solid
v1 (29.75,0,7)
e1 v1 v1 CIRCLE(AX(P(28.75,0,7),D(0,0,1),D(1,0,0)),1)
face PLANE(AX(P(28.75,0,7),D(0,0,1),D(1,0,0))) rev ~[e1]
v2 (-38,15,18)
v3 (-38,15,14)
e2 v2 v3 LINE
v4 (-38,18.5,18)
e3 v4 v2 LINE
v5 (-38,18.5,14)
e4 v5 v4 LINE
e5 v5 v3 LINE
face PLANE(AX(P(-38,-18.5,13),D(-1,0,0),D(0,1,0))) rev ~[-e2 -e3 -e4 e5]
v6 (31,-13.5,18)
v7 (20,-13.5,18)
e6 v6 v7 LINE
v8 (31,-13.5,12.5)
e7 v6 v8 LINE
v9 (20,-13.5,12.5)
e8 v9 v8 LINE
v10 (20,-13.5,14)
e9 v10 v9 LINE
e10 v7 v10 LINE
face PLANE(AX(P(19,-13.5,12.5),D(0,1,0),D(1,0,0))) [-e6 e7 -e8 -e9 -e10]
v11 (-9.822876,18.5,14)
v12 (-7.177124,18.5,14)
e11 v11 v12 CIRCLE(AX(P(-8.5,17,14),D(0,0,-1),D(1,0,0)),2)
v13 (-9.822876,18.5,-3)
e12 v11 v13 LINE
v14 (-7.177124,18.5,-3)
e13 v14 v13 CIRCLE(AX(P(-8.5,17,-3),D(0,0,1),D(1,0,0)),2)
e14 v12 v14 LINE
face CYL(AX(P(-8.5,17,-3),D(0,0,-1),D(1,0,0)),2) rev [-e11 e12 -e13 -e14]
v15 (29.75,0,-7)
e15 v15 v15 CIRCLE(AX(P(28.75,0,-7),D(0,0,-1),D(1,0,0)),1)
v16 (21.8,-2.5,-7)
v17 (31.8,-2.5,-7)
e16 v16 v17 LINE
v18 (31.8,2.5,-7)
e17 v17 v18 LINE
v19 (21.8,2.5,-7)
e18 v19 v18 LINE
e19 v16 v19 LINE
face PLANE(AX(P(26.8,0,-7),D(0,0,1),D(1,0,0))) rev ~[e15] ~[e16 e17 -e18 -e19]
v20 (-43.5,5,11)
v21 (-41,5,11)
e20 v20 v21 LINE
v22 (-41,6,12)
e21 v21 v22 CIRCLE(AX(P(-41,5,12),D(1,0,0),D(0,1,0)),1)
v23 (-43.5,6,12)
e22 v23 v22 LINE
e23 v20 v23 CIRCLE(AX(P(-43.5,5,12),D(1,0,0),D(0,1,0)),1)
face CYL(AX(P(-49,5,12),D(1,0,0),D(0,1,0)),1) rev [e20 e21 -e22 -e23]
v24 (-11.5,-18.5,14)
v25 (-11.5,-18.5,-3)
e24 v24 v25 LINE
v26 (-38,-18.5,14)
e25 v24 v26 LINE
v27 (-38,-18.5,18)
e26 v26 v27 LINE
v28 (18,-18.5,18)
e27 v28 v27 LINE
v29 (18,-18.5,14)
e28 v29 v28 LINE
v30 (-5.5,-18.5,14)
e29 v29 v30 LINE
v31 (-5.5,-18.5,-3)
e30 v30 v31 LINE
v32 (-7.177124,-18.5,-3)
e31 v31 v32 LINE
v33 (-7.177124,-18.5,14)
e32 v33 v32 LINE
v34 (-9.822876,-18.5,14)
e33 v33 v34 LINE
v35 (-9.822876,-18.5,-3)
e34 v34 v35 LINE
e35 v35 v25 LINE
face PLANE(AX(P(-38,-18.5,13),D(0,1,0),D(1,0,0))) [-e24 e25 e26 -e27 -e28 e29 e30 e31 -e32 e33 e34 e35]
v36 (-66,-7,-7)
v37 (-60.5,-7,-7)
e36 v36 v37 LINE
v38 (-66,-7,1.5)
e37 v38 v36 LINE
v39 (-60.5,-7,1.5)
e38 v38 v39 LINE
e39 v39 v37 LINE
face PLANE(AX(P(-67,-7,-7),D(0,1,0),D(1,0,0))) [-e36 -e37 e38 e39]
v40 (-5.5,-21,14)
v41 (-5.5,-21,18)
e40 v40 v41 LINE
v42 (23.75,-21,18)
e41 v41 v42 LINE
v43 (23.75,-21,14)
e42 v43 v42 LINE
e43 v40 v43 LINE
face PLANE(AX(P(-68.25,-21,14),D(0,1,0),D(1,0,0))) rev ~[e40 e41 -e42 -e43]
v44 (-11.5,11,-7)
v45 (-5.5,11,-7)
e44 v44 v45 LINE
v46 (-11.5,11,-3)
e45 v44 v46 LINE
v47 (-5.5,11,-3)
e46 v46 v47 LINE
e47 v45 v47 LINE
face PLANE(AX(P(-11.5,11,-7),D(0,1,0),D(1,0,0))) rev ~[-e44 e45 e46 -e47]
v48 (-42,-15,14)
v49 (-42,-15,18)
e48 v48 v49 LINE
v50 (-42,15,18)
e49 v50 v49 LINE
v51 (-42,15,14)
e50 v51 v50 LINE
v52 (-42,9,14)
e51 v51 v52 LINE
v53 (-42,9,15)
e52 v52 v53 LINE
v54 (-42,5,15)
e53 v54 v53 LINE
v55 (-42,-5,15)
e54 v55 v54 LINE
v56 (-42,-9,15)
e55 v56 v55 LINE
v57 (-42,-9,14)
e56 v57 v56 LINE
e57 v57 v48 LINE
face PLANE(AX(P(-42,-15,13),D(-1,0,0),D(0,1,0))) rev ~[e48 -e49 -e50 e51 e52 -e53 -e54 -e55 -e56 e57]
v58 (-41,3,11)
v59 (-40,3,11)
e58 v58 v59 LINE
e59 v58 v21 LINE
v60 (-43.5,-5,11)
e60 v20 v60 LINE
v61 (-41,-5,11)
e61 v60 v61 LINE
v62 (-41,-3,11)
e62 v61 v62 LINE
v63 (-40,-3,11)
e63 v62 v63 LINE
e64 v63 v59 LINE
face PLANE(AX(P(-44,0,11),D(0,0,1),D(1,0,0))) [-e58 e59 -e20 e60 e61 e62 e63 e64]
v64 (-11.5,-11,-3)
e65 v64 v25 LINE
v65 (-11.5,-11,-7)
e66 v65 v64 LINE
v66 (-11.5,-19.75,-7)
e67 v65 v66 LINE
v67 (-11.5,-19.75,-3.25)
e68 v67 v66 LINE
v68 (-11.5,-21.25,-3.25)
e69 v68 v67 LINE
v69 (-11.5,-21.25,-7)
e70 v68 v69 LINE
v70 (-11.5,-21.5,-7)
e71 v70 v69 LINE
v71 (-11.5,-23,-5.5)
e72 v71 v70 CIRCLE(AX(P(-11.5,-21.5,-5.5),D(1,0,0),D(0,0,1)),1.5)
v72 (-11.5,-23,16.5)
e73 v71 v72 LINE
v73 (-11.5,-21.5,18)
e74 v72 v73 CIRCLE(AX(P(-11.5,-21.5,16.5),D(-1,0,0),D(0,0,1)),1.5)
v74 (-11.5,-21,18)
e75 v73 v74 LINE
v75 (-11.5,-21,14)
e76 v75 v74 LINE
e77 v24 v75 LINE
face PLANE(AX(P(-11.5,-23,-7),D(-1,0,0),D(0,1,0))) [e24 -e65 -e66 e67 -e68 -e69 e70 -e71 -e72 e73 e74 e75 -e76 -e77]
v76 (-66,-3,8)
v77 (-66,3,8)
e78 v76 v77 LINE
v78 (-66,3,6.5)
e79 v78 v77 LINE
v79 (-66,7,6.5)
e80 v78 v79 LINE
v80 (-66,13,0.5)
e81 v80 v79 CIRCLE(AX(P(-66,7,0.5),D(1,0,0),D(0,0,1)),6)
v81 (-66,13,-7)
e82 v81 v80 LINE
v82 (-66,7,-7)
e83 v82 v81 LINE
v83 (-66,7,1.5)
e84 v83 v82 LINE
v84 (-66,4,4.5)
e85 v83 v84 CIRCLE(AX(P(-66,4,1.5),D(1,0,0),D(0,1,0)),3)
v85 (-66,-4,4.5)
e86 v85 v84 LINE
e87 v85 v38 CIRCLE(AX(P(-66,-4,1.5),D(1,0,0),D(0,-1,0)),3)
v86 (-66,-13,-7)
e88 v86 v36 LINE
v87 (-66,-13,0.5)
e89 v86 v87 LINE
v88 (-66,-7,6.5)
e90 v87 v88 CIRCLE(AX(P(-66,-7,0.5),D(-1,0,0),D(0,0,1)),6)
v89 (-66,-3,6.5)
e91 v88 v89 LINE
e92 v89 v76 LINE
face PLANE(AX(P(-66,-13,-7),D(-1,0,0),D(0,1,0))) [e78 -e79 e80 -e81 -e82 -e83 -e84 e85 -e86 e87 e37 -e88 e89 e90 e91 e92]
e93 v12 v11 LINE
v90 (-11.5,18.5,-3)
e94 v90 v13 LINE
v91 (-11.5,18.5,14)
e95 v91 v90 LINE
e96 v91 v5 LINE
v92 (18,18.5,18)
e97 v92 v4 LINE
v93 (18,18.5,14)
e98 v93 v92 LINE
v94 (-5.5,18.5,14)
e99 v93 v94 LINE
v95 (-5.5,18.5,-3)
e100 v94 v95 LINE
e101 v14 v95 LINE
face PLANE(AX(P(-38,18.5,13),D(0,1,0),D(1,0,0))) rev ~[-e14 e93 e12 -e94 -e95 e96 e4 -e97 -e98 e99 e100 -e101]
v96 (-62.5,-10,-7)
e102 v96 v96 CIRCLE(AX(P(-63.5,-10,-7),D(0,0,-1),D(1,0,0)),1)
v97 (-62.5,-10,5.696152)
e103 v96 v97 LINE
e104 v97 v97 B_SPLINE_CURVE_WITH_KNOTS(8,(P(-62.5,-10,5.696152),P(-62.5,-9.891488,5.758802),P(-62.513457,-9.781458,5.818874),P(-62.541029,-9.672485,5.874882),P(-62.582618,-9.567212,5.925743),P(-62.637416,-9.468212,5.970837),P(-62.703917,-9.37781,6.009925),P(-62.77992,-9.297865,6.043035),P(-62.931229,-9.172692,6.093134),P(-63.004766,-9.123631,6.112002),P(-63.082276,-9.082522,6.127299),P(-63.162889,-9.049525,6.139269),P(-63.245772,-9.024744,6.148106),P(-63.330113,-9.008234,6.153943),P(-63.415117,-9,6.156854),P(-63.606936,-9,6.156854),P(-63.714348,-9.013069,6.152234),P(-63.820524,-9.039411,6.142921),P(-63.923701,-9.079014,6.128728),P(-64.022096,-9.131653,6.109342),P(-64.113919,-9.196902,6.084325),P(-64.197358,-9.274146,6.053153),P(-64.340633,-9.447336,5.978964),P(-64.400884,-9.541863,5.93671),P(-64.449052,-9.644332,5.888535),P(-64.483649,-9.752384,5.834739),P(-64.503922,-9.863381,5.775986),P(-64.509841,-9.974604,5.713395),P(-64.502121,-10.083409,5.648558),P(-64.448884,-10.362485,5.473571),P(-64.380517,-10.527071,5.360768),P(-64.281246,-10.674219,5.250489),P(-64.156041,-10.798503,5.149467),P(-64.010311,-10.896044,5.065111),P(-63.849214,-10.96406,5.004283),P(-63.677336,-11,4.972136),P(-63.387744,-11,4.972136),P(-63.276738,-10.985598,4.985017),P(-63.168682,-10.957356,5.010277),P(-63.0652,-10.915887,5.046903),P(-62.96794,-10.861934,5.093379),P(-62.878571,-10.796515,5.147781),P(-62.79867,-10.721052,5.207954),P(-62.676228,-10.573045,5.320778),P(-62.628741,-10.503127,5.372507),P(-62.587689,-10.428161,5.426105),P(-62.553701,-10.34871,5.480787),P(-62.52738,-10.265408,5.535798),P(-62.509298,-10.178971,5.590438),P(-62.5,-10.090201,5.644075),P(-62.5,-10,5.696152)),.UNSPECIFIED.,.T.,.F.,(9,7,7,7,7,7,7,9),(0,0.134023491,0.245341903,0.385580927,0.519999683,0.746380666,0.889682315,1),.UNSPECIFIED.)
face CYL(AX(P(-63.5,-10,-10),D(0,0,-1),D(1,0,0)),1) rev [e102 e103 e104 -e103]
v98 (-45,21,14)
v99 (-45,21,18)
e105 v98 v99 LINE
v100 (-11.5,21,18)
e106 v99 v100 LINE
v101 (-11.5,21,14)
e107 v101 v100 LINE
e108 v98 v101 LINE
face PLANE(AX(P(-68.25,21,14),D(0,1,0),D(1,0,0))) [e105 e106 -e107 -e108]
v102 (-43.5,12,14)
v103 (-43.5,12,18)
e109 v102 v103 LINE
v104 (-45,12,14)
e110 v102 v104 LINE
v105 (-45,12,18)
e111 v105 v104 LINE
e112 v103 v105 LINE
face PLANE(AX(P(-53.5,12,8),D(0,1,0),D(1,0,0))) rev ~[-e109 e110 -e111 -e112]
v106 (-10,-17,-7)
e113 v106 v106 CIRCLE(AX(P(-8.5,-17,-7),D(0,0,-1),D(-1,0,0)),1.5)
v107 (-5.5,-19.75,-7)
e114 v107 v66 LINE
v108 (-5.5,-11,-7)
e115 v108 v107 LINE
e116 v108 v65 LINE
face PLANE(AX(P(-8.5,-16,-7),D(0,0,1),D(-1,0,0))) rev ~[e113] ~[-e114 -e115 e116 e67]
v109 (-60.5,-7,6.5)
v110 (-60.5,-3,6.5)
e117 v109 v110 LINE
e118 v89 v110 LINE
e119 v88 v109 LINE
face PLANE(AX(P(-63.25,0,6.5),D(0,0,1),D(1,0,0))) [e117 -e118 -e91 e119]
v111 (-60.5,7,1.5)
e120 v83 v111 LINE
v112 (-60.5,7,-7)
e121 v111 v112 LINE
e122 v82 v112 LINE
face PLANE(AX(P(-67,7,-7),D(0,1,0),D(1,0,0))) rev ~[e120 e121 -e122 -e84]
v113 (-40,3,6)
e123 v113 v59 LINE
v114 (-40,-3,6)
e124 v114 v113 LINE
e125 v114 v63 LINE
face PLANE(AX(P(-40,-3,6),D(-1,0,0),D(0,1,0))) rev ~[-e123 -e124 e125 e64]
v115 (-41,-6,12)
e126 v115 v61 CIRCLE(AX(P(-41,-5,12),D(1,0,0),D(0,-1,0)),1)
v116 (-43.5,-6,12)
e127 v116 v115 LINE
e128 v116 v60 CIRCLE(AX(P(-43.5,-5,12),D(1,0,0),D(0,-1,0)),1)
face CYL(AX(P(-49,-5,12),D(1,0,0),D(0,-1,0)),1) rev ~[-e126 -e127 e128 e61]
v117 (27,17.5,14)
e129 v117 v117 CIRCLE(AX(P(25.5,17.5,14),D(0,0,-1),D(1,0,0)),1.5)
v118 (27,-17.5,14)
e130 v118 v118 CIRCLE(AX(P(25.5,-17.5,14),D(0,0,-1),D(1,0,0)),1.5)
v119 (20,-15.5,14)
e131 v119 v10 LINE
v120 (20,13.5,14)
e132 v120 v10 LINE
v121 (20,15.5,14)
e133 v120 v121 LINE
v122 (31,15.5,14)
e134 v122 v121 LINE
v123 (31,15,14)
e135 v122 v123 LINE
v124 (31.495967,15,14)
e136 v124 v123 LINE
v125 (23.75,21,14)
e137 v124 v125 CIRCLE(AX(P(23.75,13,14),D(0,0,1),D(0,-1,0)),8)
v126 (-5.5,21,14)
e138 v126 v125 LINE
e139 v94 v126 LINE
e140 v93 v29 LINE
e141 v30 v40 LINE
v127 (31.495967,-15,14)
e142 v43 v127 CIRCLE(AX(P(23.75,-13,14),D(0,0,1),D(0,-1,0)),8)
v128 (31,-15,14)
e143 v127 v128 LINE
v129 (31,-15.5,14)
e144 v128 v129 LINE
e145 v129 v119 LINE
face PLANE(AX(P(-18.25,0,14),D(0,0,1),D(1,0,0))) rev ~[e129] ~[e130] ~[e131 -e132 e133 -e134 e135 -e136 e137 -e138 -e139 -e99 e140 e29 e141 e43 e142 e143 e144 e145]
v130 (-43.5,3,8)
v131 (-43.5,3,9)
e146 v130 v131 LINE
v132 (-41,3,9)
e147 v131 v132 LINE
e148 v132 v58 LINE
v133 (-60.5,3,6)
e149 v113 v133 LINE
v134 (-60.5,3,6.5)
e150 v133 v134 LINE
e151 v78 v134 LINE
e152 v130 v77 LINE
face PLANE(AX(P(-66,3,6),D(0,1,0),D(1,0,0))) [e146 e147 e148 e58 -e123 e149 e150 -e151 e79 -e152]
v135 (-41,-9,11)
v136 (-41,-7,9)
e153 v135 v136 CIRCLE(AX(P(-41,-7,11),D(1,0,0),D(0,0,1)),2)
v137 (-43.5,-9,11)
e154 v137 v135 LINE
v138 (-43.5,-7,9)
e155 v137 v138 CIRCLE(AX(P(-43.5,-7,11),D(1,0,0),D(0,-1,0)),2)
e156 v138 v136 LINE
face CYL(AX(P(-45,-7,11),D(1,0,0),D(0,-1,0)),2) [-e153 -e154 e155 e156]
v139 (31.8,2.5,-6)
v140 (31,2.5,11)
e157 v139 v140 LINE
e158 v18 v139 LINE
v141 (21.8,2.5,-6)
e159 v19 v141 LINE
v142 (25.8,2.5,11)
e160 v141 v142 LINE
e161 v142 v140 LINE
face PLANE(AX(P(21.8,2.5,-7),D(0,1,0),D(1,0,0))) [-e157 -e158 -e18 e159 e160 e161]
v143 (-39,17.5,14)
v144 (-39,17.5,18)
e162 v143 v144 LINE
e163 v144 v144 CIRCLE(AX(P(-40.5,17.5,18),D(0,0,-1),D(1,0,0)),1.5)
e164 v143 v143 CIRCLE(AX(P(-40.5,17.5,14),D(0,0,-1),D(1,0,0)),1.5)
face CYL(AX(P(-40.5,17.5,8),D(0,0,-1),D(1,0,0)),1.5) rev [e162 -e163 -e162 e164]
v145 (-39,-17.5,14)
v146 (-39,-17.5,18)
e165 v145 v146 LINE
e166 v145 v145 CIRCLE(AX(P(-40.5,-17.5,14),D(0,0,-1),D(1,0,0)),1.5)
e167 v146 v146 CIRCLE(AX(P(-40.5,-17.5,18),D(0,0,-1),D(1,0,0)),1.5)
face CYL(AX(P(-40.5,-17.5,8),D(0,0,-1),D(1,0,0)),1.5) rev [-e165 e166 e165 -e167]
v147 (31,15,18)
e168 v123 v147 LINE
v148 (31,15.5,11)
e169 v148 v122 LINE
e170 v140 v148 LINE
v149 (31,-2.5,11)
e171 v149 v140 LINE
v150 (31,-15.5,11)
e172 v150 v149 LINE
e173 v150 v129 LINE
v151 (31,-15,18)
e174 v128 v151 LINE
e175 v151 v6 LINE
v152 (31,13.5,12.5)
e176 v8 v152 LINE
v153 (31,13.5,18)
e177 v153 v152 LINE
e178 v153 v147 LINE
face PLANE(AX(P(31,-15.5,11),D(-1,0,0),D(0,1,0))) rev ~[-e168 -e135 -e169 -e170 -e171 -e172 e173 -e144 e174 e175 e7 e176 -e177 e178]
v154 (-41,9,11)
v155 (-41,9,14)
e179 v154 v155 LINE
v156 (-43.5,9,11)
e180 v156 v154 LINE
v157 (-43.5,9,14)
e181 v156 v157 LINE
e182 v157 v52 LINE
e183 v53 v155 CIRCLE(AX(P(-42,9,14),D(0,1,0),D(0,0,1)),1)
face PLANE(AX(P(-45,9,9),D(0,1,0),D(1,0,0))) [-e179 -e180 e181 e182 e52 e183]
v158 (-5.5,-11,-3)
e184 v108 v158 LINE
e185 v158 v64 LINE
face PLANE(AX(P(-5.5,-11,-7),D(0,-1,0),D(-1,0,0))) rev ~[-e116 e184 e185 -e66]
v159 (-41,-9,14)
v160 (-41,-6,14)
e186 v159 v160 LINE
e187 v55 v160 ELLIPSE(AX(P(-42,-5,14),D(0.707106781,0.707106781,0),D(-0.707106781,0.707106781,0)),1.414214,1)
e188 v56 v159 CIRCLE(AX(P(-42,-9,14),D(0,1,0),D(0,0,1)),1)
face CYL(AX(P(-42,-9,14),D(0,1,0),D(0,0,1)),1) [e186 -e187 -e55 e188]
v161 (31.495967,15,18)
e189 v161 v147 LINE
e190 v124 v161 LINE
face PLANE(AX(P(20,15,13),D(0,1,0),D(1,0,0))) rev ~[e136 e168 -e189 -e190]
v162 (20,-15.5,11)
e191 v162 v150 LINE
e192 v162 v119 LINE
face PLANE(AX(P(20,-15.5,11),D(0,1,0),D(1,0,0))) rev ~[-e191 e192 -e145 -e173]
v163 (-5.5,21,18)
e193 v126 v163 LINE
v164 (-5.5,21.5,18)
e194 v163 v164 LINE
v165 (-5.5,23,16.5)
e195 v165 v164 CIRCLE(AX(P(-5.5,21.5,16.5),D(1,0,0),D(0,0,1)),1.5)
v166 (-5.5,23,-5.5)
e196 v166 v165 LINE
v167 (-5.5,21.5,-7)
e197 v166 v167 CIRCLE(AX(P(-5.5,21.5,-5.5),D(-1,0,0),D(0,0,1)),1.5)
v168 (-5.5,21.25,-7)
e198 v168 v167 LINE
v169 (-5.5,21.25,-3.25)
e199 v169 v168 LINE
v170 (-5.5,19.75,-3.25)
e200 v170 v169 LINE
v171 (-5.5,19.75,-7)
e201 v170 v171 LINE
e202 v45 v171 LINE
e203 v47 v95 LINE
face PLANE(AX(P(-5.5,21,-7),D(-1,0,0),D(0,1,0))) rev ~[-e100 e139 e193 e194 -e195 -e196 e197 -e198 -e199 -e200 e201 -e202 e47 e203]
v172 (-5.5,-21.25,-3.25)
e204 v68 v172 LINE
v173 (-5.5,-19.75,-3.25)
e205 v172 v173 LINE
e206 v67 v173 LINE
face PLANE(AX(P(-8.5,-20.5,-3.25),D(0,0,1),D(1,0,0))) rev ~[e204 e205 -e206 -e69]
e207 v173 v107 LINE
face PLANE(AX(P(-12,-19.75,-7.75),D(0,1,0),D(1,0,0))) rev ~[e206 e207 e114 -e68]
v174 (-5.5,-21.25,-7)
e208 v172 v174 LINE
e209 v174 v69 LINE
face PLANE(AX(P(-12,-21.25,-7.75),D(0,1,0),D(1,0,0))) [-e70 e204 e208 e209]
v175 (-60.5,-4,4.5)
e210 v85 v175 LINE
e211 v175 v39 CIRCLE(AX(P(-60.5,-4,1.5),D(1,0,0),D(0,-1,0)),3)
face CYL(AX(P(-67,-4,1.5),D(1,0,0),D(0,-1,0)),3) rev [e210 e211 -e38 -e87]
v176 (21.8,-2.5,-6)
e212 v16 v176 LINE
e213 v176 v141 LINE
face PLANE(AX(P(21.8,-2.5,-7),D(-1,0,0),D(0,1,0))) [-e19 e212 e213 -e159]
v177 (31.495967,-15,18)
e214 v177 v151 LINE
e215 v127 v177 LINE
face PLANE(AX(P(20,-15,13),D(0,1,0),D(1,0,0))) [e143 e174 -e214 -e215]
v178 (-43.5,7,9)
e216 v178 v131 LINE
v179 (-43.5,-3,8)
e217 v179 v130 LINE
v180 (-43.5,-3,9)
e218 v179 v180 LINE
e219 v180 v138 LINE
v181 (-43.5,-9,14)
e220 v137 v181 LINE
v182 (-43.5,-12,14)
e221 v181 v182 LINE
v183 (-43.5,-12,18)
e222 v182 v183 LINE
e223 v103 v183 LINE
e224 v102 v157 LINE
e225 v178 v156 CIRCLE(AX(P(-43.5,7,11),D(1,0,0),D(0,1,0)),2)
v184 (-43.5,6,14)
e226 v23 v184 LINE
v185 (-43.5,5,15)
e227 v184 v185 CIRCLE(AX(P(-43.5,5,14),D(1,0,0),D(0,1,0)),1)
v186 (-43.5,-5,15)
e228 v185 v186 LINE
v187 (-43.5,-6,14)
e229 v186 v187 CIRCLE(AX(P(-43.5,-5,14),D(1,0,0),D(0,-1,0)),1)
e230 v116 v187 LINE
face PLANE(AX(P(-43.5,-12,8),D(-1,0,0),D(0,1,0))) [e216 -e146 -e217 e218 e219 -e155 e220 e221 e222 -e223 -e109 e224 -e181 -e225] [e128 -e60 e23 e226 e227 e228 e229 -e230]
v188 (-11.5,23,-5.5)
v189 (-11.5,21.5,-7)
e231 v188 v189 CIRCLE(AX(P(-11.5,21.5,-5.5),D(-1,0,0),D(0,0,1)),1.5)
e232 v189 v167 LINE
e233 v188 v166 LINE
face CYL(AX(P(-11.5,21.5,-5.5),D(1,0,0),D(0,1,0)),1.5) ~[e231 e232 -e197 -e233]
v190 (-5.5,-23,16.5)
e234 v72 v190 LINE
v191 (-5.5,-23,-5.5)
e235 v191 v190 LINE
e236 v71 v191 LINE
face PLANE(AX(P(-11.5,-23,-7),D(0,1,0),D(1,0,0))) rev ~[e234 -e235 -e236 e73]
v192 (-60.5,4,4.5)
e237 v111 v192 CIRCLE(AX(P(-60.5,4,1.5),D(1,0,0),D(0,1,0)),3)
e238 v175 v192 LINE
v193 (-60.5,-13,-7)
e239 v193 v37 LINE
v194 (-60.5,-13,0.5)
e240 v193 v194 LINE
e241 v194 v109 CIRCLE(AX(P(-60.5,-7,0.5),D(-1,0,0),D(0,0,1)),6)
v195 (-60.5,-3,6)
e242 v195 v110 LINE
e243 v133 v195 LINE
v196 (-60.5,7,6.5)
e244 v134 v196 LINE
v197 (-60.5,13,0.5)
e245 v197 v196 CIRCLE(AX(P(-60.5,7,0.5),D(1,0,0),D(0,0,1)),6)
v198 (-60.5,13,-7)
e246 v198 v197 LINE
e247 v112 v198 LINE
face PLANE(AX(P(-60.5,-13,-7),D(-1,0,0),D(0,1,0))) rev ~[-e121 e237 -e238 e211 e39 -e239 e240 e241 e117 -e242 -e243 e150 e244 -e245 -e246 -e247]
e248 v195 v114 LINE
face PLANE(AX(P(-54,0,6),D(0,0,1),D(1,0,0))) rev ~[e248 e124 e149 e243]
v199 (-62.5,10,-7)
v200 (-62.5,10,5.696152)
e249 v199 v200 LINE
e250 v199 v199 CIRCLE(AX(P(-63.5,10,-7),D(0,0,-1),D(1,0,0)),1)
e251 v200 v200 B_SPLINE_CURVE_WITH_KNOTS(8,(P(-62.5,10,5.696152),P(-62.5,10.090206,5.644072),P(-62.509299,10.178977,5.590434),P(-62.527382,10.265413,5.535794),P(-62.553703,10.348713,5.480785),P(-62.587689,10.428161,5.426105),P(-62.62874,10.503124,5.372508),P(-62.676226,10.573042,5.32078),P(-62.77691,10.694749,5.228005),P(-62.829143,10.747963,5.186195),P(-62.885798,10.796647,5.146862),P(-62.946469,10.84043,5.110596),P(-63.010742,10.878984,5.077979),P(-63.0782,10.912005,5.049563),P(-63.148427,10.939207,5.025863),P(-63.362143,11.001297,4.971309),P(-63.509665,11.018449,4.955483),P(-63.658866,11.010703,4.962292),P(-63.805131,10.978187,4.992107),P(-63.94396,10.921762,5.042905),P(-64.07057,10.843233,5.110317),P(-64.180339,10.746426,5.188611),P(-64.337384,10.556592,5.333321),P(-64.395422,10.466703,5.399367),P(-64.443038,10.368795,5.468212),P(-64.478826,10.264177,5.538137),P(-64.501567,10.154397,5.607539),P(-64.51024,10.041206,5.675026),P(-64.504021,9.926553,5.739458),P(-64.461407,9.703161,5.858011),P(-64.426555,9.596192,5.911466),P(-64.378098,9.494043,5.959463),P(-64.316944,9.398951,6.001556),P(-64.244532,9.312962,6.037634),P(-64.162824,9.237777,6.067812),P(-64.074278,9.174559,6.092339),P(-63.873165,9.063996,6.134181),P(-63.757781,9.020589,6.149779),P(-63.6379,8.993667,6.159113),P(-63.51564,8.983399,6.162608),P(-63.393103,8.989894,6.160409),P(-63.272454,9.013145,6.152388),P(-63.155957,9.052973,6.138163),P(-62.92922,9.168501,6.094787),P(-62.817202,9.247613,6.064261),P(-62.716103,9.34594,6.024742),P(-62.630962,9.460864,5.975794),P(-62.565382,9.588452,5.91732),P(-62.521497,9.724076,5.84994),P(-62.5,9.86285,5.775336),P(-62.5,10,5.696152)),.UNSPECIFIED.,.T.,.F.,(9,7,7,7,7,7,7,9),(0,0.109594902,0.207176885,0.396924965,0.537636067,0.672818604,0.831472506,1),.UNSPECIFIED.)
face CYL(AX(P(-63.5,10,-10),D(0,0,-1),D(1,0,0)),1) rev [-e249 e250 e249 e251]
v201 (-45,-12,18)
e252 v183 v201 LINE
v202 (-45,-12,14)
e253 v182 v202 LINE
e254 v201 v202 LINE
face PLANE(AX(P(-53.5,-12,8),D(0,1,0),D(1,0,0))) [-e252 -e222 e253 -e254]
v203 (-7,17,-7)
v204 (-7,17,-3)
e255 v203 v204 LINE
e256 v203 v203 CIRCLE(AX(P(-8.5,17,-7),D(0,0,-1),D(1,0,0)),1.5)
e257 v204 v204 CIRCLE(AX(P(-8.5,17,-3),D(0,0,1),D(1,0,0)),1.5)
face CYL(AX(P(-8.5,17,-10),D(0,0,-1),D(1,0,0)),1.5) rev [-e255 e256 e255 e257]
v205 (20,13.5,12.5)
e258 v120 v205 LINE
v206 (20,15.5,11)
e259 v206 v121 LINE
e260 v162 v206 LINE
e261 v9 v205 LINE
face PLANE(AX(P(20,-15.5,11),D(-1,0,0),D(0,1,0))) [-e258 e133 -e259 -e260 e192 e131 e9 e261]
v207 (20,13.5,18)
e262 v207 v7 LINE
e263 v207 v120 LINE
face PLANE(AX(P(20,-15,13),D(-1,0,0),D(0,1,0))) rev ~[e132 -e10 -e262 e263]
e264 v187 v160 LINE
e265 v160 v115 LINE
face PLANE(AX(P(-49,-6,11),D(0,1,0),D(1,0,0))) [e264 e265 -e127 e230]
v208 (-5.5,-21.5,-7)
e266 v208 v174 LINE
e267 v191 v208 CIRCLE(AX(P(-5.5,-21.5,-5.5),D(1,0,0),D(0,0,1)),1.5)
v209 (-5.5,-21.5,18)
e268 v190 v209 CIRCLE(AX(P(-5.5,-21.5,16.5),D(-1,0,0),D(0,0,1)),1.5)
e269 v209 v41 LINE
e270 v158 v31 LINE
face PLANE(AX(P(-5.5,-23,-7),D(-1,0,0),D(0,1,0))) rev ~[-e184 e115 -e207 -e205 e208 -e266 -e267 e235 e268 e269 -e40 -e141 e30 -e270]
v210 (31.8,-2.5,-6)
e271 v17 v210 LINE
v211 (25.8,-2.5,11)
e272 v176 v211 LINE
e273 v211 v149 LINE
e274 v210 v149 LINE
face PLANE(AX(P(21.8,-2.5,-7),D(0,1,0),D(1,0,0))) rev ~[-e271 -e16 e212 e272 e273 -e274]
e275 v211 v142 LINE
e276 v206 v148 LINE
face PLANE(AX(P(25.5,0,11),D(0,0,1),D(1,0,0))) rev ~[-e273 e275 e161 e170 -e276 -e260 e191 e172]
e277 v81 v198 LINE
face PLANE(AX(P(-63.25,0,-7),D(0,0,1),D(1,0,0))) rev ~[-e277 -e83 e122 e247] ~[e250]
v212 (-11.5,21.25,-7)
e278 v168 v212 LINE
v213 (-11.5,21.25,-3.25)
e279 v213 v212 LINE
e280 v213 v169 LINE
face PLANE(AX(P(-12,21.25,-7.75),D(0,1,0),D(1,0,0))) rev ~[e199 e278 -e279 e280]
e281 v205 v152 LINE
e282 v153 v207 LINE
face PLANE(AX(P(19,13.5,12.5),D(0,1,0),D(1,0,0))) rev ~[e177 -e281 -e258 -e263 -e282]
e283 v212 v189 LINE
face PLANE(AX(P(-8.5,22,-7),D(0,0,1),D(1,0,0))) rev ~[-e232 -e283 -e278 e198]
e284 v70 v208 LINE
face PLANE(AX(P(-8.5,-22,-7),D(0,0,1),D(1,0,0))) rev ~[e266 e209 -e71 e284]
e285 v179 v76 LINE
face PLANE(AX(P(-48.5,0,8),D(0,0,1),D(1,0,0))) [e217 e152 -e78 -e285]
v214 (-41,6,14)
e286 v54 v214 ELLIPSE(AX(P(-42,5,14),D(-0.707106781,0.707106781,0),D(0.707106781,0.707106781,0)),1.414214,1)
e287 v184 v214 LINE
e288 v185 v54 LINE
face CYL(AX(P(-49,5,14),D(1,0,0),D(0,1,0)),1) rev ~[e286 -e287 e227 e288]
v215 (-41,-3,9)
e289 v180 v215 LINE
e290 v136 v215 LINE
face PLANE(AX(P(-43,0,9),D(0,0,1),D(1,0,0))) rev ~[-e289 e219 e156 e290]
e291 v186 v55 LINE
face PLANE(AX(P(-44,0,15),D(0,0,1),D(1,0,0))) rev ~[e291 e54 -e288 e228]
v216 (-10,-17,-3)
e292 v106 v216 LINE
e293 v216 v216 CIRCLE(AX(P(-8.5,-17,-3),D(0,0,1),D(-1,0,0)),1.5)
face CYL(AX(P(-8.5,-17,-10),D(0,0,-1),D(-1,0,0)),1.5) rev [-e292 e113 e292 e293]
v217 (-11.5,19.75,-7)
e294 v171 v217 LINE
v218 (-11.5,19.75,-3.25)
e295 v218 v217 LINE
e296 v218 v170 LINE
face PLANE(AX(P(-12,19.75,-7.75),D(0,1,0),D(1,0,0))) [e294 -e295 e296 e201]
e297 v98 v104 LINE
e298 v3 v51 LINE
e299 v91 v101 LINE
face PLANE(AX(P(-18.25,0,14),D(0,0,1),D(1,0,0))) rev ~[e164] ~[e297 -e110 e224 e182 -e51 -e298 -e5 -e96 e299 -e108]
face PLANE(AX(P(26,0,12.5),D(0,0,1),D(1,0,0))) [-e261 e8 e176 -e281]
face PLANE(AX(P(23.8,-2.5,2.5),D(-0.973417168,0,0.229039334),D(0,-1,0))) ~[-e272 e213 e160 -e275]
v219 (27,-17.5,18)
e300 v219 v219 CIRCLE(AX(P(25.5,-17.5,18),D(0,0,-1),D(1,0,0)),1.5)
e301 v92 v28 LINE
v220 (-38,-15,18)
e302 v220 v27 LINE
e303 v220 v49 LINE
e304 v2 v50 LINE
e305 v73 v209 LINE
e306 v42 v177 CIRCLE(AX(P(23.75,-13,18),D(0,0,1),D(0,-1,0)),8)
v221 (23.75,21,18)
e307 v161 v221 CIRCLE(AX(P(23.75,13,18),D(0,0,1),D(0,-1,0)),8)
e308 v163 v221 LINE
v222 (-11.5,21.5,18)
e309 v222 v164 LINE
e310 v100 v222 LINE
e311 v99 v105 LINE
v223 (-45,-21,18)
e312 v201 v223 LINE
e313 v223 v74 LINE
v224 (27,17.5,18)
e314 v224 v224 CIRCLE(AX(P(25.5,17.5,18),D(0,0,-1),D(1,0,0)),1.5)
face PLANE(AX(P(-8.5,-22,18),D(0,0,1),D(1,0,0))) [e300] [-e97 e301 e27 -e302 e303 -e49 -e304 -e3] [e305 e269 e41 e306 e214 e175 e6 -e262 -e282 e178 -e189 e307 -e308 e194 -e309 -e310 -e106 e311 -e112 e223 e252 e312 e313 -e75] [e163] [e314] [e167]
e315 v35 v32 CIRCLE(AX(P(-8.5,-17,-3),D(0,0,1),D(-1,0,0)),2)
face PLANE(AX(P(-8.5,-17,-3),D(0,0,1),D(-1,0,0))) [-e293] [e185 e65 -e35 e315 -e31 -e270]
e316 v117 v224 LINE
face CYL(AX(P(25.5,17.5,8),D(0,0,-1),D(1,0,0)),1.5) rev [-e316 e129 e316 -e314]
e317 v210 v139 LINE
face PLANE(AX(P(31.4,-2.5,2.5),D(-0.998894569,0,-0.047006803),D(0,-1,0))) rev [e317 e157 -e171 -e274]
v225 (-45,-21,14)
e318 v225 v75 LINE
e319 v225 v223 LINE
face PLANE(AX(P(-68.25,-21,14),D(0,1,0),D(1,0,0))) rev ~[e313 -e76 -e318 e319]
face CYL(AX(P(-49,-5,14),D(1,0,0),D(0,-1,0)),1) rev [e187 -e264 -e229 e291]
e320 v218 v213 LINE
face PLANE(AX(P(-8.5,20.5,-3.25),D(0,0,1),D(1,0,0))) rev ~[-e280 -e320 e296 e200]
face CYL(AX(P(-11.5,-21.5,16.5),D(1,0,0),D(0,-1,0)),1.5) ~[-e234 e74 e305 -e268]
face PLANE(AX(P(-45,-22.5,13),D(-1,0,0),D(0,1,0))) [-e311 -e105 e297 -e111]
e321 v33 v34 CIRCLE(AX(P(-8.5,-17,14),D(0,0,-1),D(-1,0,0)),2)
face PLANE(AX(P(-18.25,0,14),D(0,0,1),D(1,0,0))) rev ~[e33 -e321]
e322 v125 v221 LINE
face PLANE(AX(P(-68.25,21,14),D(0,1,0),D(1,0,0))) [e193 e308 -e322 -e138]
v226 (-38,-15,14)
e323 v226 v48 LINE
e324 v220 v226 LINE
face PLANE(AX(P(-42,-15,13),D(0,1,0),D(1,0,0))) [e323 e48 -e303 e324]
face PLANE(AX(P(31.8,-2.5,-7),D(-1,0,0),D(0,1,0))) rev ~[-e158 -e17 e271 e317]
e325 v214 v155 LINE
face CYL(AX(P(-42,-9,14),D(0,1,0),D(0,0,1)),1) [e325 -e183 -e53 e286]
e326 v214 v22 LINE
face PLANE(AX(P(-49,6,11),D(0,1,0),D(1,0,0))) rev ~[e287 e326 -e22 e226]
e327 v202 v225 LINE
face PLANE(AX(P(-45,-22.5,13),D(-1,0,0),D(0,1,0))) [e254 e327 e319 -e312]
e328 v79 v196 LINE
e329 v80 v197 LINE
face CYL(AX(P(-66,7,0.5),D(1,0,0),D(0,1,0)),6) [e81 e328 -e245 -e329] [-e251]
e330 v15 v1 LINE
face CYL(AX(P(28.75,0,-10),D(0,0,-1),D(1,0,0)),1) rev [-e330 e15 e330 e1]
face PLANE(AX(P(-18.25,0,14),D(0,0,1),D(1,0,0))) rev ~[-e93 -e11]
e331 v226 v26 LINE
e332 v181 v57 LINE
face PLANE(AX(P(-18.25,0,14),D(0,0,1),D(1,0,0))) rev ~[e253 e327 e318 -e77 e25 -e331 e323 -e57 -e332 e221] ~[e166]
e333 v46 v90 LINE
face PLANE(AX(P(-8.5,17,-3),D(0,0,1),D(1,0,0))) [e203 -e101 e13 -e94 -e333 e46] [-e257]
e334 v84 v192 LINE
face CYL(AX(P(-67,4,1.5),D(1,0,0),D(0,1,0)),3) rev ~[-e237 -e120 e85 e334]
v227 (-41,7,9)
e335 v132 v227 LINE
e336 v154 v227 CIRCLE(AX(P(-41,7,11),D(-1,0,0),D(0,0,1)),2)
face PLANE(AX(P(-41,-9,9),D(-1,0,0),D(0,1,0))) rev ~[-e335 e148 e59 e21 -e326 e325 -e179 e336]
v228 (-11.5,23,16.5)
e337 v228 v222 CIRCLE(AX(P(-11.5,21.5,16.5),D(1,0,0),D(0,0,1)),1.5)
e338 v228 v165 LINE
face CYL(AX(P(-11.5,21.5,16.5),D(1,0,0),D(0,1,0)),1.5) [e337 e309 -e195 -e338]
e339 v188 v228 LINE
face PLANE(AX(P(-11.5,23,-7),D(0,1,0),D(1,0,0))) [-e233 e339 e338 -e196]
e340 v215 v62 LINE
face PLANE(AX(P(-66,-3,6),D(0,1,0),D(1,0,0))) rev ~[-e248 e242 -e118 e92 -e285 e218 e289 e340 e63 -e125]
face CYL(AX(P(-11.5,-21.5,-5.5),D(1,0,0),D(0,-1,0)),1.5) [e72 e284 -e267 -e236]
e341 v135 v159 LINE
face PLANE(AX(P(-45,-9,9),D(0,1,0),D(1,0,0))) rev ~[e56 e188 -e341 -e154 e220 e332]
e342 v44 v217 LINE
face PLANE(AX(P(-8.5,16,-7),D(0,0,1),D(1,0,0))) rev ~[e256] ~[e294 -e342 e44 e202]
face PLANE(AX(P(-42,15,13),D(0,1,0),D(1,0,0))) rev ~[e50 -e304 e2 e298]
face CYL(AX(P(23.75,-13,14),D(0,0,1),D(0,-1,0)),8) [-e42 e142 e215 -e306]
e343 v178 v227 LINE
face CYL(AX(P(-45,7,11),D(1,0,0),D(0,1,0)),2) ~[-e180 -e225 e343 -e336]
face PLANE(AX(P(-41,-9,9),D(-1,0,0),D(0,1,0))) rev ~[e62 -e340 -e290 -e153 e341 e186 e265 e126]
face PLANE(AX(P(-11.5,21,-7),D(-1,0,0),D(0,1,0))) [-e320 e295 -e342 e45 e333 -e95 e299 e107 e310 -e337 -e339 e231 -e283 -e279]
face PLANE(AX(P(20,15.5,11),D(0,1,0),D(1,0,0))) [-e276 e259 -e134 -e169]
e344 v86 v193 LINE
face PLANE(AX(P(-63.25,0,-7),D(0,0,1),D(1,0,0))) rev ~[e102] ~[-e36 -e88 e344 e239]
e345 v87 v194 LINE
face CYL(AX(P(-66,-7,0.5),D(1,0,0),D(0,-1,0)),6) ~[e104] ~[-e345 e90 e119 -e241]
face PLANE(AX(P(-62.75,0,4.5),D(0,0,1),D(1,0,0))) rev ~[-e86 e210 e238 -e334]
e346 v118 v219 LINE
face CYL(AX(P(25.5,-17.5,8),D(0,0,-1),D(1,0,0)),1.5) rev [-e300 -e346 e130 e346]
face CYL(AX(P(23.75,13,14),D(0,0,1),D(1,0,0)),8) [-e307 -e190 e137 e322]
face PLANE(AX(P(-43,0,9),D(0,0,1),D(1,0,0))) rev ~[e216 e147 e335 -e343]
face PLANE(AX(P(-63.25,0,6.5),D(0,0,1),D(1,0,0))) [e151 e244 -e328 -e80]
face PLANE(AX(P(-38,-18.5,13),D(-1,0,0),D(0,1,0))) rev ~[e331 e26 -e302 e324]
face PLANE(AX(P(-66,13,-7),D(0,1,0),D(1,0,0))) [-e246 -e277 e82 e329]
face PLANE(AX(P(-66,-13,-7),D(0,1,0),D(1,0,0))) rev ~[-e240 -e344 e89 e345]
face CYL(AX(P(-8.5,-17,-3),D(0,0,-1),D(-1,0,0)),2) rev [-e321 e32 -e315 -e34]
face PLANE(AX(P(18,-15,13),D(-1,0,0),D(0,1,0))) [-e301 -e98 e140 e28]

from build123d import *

# Parameters (mm, degrees)
BOX246_W               = 7
BOX246_H               = 1.5
BOX246_DEPTH           = 4.5
BOX244_W               = 7
BOX244_H               = 1.5
BOX244_DEPTH           = 4.5
BOX245_W               = 6
BOX245_H               = 2
BOX245_DEPTH           = 25
FILLET124_R            = 1.5
BOX243_W               = 6
BOX243_H               = 2
BOX243_DEPTH           = 25
FILLET125_R            = 1.5
BOX242_W               = 10
BOX242_H               = 24
BOX242_DEPTH           = 11
BOX148_W               = 10
BOX148_H               = 12
BOX148_DEPTH           = 4
FILLET092_R            = 1
CYLINDER225_R          = 1
CYLINDER225_DEPTH      = 17
BOX132_W               = 10
BOX132_H               = 5
BOX132_DEPTH           = 18
CHAMFER021_1_SIZE2     = 4
CHAMFER021_1_SIZE      = 17
CHAMFER021_2_SIZE2     = 0.8
CHAMFER021_2_SIZE      = 17
BOX116_W               = 56
BOX116_H               = 37
BOX116_DEPTH           = 6
BOX130_W               = 60
BOX130_H               = 30
BOX130_DEPTH           = 6
CYLINDER224_R          = 1.5
CYLINDER224_DEPTH      = 12
BOX131_W               = 12
BOX131_H               = 30
BOX131_DEPTH           = 6
CYLINDER222_R          = 1.5
CYLINDER222_DEPTH      = 12
CYLINDER221_R          = 1.5
CYLINDER221_DEPTH      = 12
CYLINDER223_R          = 1.5
CYLINDER223_DEPTH      = 12
BOX134_W               = 25
BOX134_H               = 45
BOX134_DEPTH           = 6
BOX097_W               = 100
BOX097_H               = 42
BOX097_DEPTH           = 4
FILLET082_R            = 8
CYLINDER226_R          = 1.5
CYLINDER226_DEPTH      = 21
BOX138_W               = 8
BOX138_H               = 10
BOX138_DEPTH           = 21
BOX137_W               = 8
BOX137_H               = 10
BOX137_DEPTH           = 21
CYLINDER228_R          = 2
CYLINDER228_DEPTH      = 21
BOX110_W               = 56
BOX110_H               = 1
BOX110_DEPTH           = 3
BOX136_W               = 6
BOX136_H               = 10
BOX136_DEPTH           = 21
CYLINDER227_R          = 1.5
CYLINDER227_DEPTH      = 21
BOX141_W               = 8
BOX141_H               = 10
BOX141_DEPTH           = 21
BOX140_W               = 8
BOX140_H               = 10
BOX140_DEPTH           = 21
CYLINDER229_R          = 2
CYLINDER229_DEPTH      = 21
BOX139_W               = 56
BOX139_H               = 1
BOX139_DEPTH           = 3
BOX142_W               = 6
BOX142_H               = 10
BOX142_DEPTH           = 21
CUT100_PLACEMENT_ANGLE = 180
BOX143_W               = 14
BOX143_H               = 27
BOX143_DEPTH           = 8
BOX144_W               = 11
BOX144_H               = 31
BOX144_DEPTH           = 7
CYLINDER233_R          = 1
CYLINDER233_DEPTH      = 19
CYLINDER232_R          = 1
CYLINDER232_DEPTH      = 19
BOX152_W               = 8.5
BOX152_H               = 14
BOX152_DEPTH           = 11.5
FILLET095_R            = 3
BOX151_W               = 5.5
BOX151_H               = 26
BOX151_DEPTH           = 13.5
FILLET093_R            = 6
BOX150_W               = 24
BOX150_H               = 6
BOX150_DEPTH           = 2
BOX147_W               = 4
BOX147_H               = 18
BOX147_DEPTH           = 6
FILLET090_R            = 2
BOX149_W               = 5
BOX149_H               = 6
BOX149_DEPTH           = 6
FILLET094_R            = 1


with BuildPart() as w_rfel232:
    # Box246 → Box246 (new body)
    with BuildSketch(Plane(origin=(-12, 19.75, -7.75), x_dir=(1, 0, 0), z_dir=(0, 0, 1))):
        with Locations((3.5, 0.75)):
            Rectangle(BOX246_W, BOX246_H)
    extrude(amount=BOX246_DEPTH)


with BuildPart() as fusion218:
    # Box244 → Box244 (new body)
    with BuildSketch(Plane(origin=(-12, -21.25, -7.75), x_dir=(1, 0, 0), z_dir=(0, 0, 1))):
        with Locations((3.5, 0.75)):
            Rectangle(BOX244_W, BOX244_H)
    extrude(amount=BOX244_DEPTH)

    # Fusion218: union Würfel232
    add(w_rfel232.part)


with BuildPart() as fillet124:
    # Box245 → Box245 (new body)
    with BuildSketch(Plane(origin=(-11.5, 21, -7), x_dir=(1, 0, 0), z_dir=(0, 0, 1))):
        with Locations((3, 1)):
            Rectangle(BOX245_W, BOX245_H)
    extrude(amount=BOX245_DEPTH)

    # Fillet124
    fillet124_edges = [fillet124.edges().sort_by_distance(p)[0] for p in [
        (-8.5, 23, -7),
        (-8.5, 23, 18),
    ]]
    fillet(fillet124_edges, radius=FILLET124_R)


with BuildPart() as fillet125:
    # Box243 → Box243 (new body)
    with BuildSketch(Plane(origin=(-11.5, -23, -7), x_dir=(1, 0, 0), z_dir=(0, 0, 1))):
        with Locations((3, 1)):
            Rectangle(BOX243_W, BOX243_H)
    extrude(amount=BOX243_DEPTH)

    # Fillet125
    fillet125_edges = [fillet125.edges().sort_by_distance(p)[0] for p in [
        (-8.5, -23, -7),
        (-8.5, -23, 18),
    ]]
    fillet(fillet125_edges, radius=FILLET125_R)


with BuildPart() as w_rfel228:
    # Box242 → Box242 (new body)
    with BuildSketch(Plane(origin=(-53.5, -12, 8), x_dir=(1, 0, 0), z_dir=(0, 0, 1))):
        with Locations((5, 12)):
            Rectangle(BOX242_W, BOX242_H)
    extrude(amount=BOX242_DEPTH)


with BuildPart() as fillet092:
    # Box148 → Box148 (new body)
    with BuildSketch(Plane(origin=(-51, -6, 12), x_dir=(1, 0, 0), z_dir=(0, 0, 1))):
        with Locations((5, 6)):
            Rectangle(BOX148_W, BOX148_H)
    extrude(amount=BOX148_DEPTH)

    # Fillet092
    fillet092_edges = [fillet092.edges().sort_by_distance(p)[0] for p in [
        (-46, -6, 12),
        (-46, -6, 16),
        (-46, 6, 12),
        (-46, 6, 16),
    ]]
    fillet(fillet092_edges, radius=FILLET092_R)


with BuildPart() as fillet092_1:
    # Fillet092 placement: moved
    add(fillet092.part.moved(Location((2, 0, -1))))


with BuildPart() as zylinder225:
    # Cylinder225 → Cylinder225 (new body)
    with BuildSketch(Plane(origin=(28.75, 0, -10), x_dir=(1, 0, 0), z_dir=(0, 0, 1))):
        Circle(CYLINDER225_R)
    extrude(amount=CYLINDER225_DEPTH)


with BuildPart() as cut098:
    # Box132 → Box132 (new body)
    with BuildSketch(Plane(origin=(21.8, -2.5, -7), x_dir=(1, 0, 0), z_dir=(0, 0, 1))):
        with Locations((5, 2.5)):
            Rectangle(BOX132_W, BOX132_H)
    extrude(amount=BOX132_DEPTH)

    # Chamfer021 1
    chamfer021_1_edges = [cut098.edges().sort_by_distance(p)[0] for p in [
        (21.8, 0, 11),
    ]]
    chamfer021_1_side = cut098.faces().sort_by_distance((21.8, 0, 2))[0]
    chamfer(chamfer021_1_edges, length=CHAMFER021_1_SIZE, length2=CHAMFER021_1_SIZE2, reference=chamfer021_1_side)

    # Chamfer021 2
    chamfer021_2_edges = [cut098.edges().sort_by_distance(p)[0] for p in [
        (31.8, 0, 11),
    ]]
    chamfer021_2_side = cut098.faces().sort_by_distance((31.8, 0, 2))[0]
    chamfer(chamfer021_2_edges, length=CHAMFER021_2_SIZE, length2=CHAMFER021_2_SIZE2, reference=chamfer021_2_side)

    # Cut098: cut Zylinder225
    add(zylinder225.part, mode=Mode.SUBTRACT)


with BuildPart() as w_rfel110:
    # Box116 → Box116 (new body)
    with BuildSketch(Plane(origin=(-38, -18.5, 13), x_dir=(1, 0, 0), z_dir=(0, 0, 1))):
        with Locations((28, 18.5)):
            Rectangle(BOX116_W, BOX116_H)
    extrude(amount=BOX116_DEPTH)


with BuildPart() as w_rfel120:
    # Box130 → Box130 (new body)
    with BuildSketch(Plane(origin=(-42, -15, 13), x_dir=(1, 0, 0), z_dir=(0, 0, 1))):
        with Locations((30, 15)):
            Rectangle(BOX130_W, BOX130_H)
    extrude(amount=BOX130_DEPTH)


with BuildPart() as zylinder224:
    # Cylinder224 → Cylinder224 (new body)
    with BuildSketch(Plane(origin=(25.5, 17.5, 8), x_dir=(1, 0, 0), z_dir=(0, 0, 1))):
        Circle(CYLINDER224_R)
    extrude(amount=CYLINDER224_DEPTH)


with BuildPart() as w_rfel121:
    # Box131 → Box131 (new body)
    with BuildSketch(Plane(origin=(20, -15, 13), x_dir=(1, 0, 0), z_dir=(0, 0, 1))):
        with Locations((6, 15)):
            Rectangle(BOX131_W, BOX131_H)
    extrude(amount=BOX131_DEPTH)


with BuildPart() as zylinder222:
    # Cylinder222 → Cylinder222 (new body)
    with BuildSketch(Plane(origin=(-40.5, -17.5, 8), x_dir=(1, 0, 0), z_dir=(0, 0, 1))):
        Circle(CYLINDER222_R)
    extrude(amount=CYLINDER222_DEPTH)


with BuildPart() as zylinder221:
    # Cylinder221 → Cylinder221 (new body)
    with BuildSketch(Plane(origin=(-40.5, 17.5, 8), x_dir=(1, 0, 0), z_dir=(0, 0, 1))):
        Circle(CYLINDER221_R)
    extrude(amount=CYLINDER221_DEPTH)


with BuildPart() as zylinder223:
    # Cylinder223 → Cylinder223 (new body)
    with BuildSketch(Plane(origin=(25.5, -17.5, 8), x_dir=(1, 0, 0), z_dir=(0, 0, 1))):
        Circle(CYLINDER223_R)
    extrude(amount=CYLINDER223_DEPTH)


with BuildPart() as fusion142:
    # Box134 → Box134 (new body)
    with BuildSketch(Plane(origin=(-70, -22.5, 13), x_dir=(1, 0, 0), z_dir=(0, 0, 1))):
        with Locations((12.5, 22.5)):
            Rectangle(BOX134_W, BOX134_H)
    extrude(amount=BOX134_DEPTH)

    # Fusion142: union Würfel110, Würfel120, Zylinder224, Würfel121, Zylinder222, Zylinder221, Zylinder223
    add(w_rfel110.part)
    add(w_rfel120.part)
    add(zylinder224.part)
    add(w_rfel121.part)
    add(zylinder222.part)
    add(zylinder221.part)
    add(zylinder223.part)


with BuildPart() as cut097:
    # Box097 → Box097 (new body)
    with BuildSketch(Plane(origin=(-68.25, -21, 14), x_dir=(1, 0, 0), z_dir=(0, 0, 1))):
        with Locations((50, 21)):
            Rectangle(BOX097_W, BOX097_H)
    extrude(amount=BOX097_DEPTH)

    # Fillet082
    fillet082_edges = [cut097.edges().sort_by_distance(p)[0] for p in [
        (-68.25, -21, 16),
        (-68.25, 21, 16),
        (31.75, -21, 16),
        (31.75, 21, 16),
    ]]
    fillet(fillet082_edges, radius=FILLET082_R)

    # Cut097: cut Fusion142
    add(fusion142.part, mode=Mode.SUBTRACT)


with BuildPart() as zylinder226:
    # Cylinder226 → Cylinder226 (new body)
    with BuildSketch(Plane(origin=(-8.5, 17, -10), x_dir=(1, 0, 0), z_dir=(0, 0, 1))):
        Circle(CYLINDER226_R)
    extrude(amount=CYLINDER226_DEPTH)


with BuildPart() as w_rfel128:
    # Box138 → Box138 (new body)
    with BuildSketch(Plane(origin=(-12.5, 8.5, -3), x_dir=(1, 0, 0), z_dir=(0, 0, 1))):
        with Locations((4, 5)):
            Rectangle(BOX138_W, BOX138_H)
    extrude(amount=BOX138_DEPTH)


with BuildPart() as w_rfel127:
    # Box137 → Box137 (new body)
    with BuildSketch(Plane(origin=(-12.5, 5.5, -3), x_dir=(1, 0, 0), z_dir=(0, 0, 1))):
        with Locations((4, 5)):
            Rectangle(BOX137_W, BOX137_H)
    extrude(amount=BOX137_DEPTH)


with BuildPart() as zylinder228:
    # Cylinder228 → Cylinder228 (new body)
    with BuildSketch(Plane(origin=(-8.5, 17, -3), x_dir=(1, 0, 0), z_dir=(0, 0, 1))):
        Circle(CYLINDER228_R)
    extrude(amount=CYLINDER228_DEPTH)


with BuildPart() as fusion144:
    # Box110 → Box110 (new body)
    with BuildSketch(Plane(origin=(-43.5, 20, -7), x_dir=(1, 0, 0), z_dir=(0, 0, 1))):
        with Locations((28, 0.5)):
            Rectangle(BOX110_W, BOX110_H)
    extrude(amount=BOX110_DEPTH)

    # Fusion144: union Zylinder226, Würfel128, Würfel127, Zylinder228
    add(zylinder226.part)
    add(w_rfel128.part)
    add(w_rfel127.part)
    add(zylinder228.part)


with BuildPart() as cut099:
    # Box136 → Box136 (new body)
    with BuildSketch(Plane(origin=(-11.5, 11, -7), x_dir=(1, 0, 0), z_dir=(0, 0, 1))):
        with Locations((3, 5)):
            Rectangle(BOX136_W, BOX136_H)
    extrude(amount=BOX136_DEPTH)

    # Cut099: cut Fusion144
    add(fusion144.part, mode=Mode.SUBTRACT)


with BuildPart() as zylinder227:
    # Cylinder227 → Cylinder227 (new body)
    with BuildSketch(Plane(origin=(-8.5, 17, -10), x_dir=(1, 0, 0), z_dir=(0, 0, 1))):
        Circle(CYLINDER227_R)
    extrude(amount=CYLINDER227_DEPTH)


with BuildPart() as w_rfel131:
    # Box141 → Box141 (new body)
    with BuildSketch(Plane(origin=(-12.5, 8.5, -3), x_dir=(1, 0, 0), z_dir=(0, 0, 1))):
        with Locations((4, 5)):
            Rectangle(BOX141_W, BOX141_H)
    extrude(amount=BOX141_DEPTH)


with BuildPart() as w_rfel130:
    # Box140 → Box140 (new body)
    with BuildSketch(Plane(origin=(-12.5, 5.5, -3), x_dir=(1, 0, 0), z_dir=(0, 0, 1))):
        with Locations((4, 5)):
            Rectangle(BOX140_W, BOX140_H)
    extrude(amount=BOX140_DEPTH)


with BuildPart() as zylinder229:
    # Cylinder229 → Cylinder229 (new body)
    with BuildSketch(Plane(origin=(-8.5, 17, -3), x_dir=(1, 0, 0), z_dir=(0, 0, 1))):
        Circle(CYLINDER229_R)
    extrude(amount=CYLINDER229_DEPTH)


with BuildPart() as fusion145:
    # Box139 → Box139 (new body)
    with BuildSketch(Plane(origin=(-43.5, 20, -7), x_dir=(1, 0, 0), z_dir=(0, 0, 1))):
        with Locations((28, 0.5)):
            Rectangle(BOX139_W, BOX139_H)
    extrude(amount=BOX139_DEPTH)

    # Fusion145: union Zylinder227, Würfel131, Würfel130, Zylinder229
    add(zylinder227.part)
    add(w_rfel131.part)
    add(w_rfel130.part)
    add(zylinder229.part)


with BuildPart() as cut100:
    # Box142 → Box142 (new body)
    with BuildSketch(Plane(origin=(-11.5, 11, -7), x_dir=(1, 0, 0), z_dir=(0, 0, 1))):
        with Locations((3, 5)):
            Rectangle(BOX142_W, BOX142_H)
    extrude(amount=BOX142_DEPTH)

    # Cut100: cut Fusion145
    add(fusion145.part, mode=Mode.SUBTRACT)


with BuildPart() as cut100_1:
    # Cut100 placement: moved
    add(cut100.part.moved(Location((-17, 0, 0))).rotate(Axis((-17, 0, 0), (0, 0, 1)), CUT100_PLACEMENT_ANGLE))


with BuildPart() as w_rfel133:
    # Box143 → Box143 (new body)
    with BuildSketch(Plane(origin=(19, -13.5, 12.5), x_dir=(1, 0, 0), z_dir=(0, 0, 1))):
        with Locations((7, 13.5)):
            Rectangle(BOX143_W, BOX143_H)
    extrude(amount=BOX143_DEPTH)


with BuildPart() as cut101:
    # Box144 → Box144 (new body)
    with BuildSketch(Plane(origin=(20, -15.5, 11), x_dir=(1, 0, 0), z_dir=(0, 0, 1))):
        with Locations((5.5, 15.5)):
            Rectangle(BOX144_W, BOX144_H)
    extrude(amount=BOX144_DEPTH)

    # Cut101: cut Würfel133
    add(w_rfel133.part, mode=Mode.SUBTRACT)


with BuildPart() as zylinder233:
    # Cylinder233 → Cylinder233 (new body)
    with BuildSketch(Plane(origin=(-63.5, 10, -10), x_dir=(1, 0, 0), z_dir=(0, 0, 1))):
        Circle(CYLINDER233_R)
    extrude(amount=CYLINDER233_DEPTH)


with BuildPart() as zylinder232:
    # Cylinder232 → Cylinder232 (new body)
    with BuildSketch(Plane(origin=(-63.5, -10, -10), x_dir=(1, 0, 0), z_dir=(0, 0, 1))):
        Circle(CYLINDER232_R)
    extrude(amount=CYLINDER232_DEPTH)


with BuildPart() as fusion149:
    # Box152 → Box152 (new body)
    with BuildSketch(Plane(origin=(-67, -10, -7), x_dir=(1, 0, 0), z_dir=(0, 0, 1))):
        with Locations((4.25, 7)):
            Rectangle(BOX152_W, BOX152_H)
    extrude(amount=BOX152_DEPTH)

    # Fillet095
    fillet095_edges = [fusion149.edges().sort_by_distance(p)[0] for p in [
        (-62.75, -10, 4.5),
        (-62.75, 4, 4.5),
    ]]
    fillet(fillet095_edges, radius=FILLET095_R)


with BuildPart() as fusion149_1:
    # Fillet095 placement: moved
    add(fusion149.part.moved(Location((0, 3, 0))))

    # Fusion149: union Zylinder233, Zylinder232
    add(zylinder233.part)
    add(zylinder232.part)


with BuildPart() as cut104:
    # Box151 → Box151 (new body)
    with BuildSketch(Plane(origin=(-66, -13, -7), x_dir=(1, 0, 0), z_dir=(0, 0, 1))):
        with Locations((2.75, 13)):
            Rectangle(BOX151_W, BOX151_H)
    extrude(amount=BOX151_DEPTH)

    # Fillet093
    fillet093_edges = [cut104.edges().sort_by_distance(p)[0] for p in [
        (-63.25, -13, 6.5),
        (-63.25, 13, 6.5),
    ]]
    fillet(fillet093_edges, radius=FILLET093_R)

    # Cut104: cut Fusion149
    add(fusion149_1.part, mode=Mode.SUBTRACT)


with BuildPart() as w_rfel140:
    # Box150 → Box150 (new body)
    with BuildSketch(Plane(origin=(-66, -3, 6), x_dir=(1, 0, 0), z_dir=(0, 0, 1))):
        with Locations((12, 3)):
            Rectangle(BOX150_W, BOX150_H)
    extrude(amount=BOX150_DEPTH)


with BuildPart() as fillet090:
    # Box147 → Box147 (new body)
    with BuildSketch(Plane(origin=(-45, -9, 9), x_dir=(1, 0, 0), z_dir=(0, 0, 1))):
        with Locations((2, 9)):
            Rectangle(BOX147_W, BOX147_H)
    extrude(amount=BOX147_DEPTH)

    # Fillet090
    fillet090_edges = [fillet090.edges().sort_by_distance(p)[0] for p in [
        (-43, -9, 9),
        (-43, 9, 9),
    ]]
    fillet(fillet090_edges, radius=FILLET090_R)


with BuildPart() as cut152:
    # Box149 → Box149 (new body)
    with BuildSketch(Plane(origin=(-45, -3, 6), x_dir=(1, 0, 0), z_dir=(0, 0, 1))):
        with Locations((2.5, 3)):
            Rectangle(BOX149_W, BOX149_H)
    extrude(amount=BOX149_DEPTH)

    # Fusion148: union Würfel140, Fillet090
    add(w_rfel140.part)
    add(fillet090.part)

    # Fillet094
    fillet094_edges = [cut152.edges().sort_by_distance(p)[0] for p in [
        (-41, 0, 15),
    ]]
    fillet(fillet094_edges, radius=FILLET094_R)

    # Fusion150: union Cut104
    add(cut104.part)

    # Fusion157: union Cut098, Cut097, Cut099, Cut100, Cut101
    add(cut098.part)
    add(cut097.part)
    add(cut099.part)
    add(cut100_1.part)
    add(cut101.part)

    # Cut108: cut Fillet092
    add(fillet092_1.part, mode=Mode.SUBTRACT)

    # Cut151: cut Würfel228
    add(w_rfel228.part, mode=Mode.SUBTRACT)

    # Fusion219: union Fillet124, Fillet125
    add(fillet124.part)
    add(fillet125.part)

    # Cut152: cut Fusion218
    add(fusion218.part, mode=Mode.SUBTRACT)


solid = cut152.part
